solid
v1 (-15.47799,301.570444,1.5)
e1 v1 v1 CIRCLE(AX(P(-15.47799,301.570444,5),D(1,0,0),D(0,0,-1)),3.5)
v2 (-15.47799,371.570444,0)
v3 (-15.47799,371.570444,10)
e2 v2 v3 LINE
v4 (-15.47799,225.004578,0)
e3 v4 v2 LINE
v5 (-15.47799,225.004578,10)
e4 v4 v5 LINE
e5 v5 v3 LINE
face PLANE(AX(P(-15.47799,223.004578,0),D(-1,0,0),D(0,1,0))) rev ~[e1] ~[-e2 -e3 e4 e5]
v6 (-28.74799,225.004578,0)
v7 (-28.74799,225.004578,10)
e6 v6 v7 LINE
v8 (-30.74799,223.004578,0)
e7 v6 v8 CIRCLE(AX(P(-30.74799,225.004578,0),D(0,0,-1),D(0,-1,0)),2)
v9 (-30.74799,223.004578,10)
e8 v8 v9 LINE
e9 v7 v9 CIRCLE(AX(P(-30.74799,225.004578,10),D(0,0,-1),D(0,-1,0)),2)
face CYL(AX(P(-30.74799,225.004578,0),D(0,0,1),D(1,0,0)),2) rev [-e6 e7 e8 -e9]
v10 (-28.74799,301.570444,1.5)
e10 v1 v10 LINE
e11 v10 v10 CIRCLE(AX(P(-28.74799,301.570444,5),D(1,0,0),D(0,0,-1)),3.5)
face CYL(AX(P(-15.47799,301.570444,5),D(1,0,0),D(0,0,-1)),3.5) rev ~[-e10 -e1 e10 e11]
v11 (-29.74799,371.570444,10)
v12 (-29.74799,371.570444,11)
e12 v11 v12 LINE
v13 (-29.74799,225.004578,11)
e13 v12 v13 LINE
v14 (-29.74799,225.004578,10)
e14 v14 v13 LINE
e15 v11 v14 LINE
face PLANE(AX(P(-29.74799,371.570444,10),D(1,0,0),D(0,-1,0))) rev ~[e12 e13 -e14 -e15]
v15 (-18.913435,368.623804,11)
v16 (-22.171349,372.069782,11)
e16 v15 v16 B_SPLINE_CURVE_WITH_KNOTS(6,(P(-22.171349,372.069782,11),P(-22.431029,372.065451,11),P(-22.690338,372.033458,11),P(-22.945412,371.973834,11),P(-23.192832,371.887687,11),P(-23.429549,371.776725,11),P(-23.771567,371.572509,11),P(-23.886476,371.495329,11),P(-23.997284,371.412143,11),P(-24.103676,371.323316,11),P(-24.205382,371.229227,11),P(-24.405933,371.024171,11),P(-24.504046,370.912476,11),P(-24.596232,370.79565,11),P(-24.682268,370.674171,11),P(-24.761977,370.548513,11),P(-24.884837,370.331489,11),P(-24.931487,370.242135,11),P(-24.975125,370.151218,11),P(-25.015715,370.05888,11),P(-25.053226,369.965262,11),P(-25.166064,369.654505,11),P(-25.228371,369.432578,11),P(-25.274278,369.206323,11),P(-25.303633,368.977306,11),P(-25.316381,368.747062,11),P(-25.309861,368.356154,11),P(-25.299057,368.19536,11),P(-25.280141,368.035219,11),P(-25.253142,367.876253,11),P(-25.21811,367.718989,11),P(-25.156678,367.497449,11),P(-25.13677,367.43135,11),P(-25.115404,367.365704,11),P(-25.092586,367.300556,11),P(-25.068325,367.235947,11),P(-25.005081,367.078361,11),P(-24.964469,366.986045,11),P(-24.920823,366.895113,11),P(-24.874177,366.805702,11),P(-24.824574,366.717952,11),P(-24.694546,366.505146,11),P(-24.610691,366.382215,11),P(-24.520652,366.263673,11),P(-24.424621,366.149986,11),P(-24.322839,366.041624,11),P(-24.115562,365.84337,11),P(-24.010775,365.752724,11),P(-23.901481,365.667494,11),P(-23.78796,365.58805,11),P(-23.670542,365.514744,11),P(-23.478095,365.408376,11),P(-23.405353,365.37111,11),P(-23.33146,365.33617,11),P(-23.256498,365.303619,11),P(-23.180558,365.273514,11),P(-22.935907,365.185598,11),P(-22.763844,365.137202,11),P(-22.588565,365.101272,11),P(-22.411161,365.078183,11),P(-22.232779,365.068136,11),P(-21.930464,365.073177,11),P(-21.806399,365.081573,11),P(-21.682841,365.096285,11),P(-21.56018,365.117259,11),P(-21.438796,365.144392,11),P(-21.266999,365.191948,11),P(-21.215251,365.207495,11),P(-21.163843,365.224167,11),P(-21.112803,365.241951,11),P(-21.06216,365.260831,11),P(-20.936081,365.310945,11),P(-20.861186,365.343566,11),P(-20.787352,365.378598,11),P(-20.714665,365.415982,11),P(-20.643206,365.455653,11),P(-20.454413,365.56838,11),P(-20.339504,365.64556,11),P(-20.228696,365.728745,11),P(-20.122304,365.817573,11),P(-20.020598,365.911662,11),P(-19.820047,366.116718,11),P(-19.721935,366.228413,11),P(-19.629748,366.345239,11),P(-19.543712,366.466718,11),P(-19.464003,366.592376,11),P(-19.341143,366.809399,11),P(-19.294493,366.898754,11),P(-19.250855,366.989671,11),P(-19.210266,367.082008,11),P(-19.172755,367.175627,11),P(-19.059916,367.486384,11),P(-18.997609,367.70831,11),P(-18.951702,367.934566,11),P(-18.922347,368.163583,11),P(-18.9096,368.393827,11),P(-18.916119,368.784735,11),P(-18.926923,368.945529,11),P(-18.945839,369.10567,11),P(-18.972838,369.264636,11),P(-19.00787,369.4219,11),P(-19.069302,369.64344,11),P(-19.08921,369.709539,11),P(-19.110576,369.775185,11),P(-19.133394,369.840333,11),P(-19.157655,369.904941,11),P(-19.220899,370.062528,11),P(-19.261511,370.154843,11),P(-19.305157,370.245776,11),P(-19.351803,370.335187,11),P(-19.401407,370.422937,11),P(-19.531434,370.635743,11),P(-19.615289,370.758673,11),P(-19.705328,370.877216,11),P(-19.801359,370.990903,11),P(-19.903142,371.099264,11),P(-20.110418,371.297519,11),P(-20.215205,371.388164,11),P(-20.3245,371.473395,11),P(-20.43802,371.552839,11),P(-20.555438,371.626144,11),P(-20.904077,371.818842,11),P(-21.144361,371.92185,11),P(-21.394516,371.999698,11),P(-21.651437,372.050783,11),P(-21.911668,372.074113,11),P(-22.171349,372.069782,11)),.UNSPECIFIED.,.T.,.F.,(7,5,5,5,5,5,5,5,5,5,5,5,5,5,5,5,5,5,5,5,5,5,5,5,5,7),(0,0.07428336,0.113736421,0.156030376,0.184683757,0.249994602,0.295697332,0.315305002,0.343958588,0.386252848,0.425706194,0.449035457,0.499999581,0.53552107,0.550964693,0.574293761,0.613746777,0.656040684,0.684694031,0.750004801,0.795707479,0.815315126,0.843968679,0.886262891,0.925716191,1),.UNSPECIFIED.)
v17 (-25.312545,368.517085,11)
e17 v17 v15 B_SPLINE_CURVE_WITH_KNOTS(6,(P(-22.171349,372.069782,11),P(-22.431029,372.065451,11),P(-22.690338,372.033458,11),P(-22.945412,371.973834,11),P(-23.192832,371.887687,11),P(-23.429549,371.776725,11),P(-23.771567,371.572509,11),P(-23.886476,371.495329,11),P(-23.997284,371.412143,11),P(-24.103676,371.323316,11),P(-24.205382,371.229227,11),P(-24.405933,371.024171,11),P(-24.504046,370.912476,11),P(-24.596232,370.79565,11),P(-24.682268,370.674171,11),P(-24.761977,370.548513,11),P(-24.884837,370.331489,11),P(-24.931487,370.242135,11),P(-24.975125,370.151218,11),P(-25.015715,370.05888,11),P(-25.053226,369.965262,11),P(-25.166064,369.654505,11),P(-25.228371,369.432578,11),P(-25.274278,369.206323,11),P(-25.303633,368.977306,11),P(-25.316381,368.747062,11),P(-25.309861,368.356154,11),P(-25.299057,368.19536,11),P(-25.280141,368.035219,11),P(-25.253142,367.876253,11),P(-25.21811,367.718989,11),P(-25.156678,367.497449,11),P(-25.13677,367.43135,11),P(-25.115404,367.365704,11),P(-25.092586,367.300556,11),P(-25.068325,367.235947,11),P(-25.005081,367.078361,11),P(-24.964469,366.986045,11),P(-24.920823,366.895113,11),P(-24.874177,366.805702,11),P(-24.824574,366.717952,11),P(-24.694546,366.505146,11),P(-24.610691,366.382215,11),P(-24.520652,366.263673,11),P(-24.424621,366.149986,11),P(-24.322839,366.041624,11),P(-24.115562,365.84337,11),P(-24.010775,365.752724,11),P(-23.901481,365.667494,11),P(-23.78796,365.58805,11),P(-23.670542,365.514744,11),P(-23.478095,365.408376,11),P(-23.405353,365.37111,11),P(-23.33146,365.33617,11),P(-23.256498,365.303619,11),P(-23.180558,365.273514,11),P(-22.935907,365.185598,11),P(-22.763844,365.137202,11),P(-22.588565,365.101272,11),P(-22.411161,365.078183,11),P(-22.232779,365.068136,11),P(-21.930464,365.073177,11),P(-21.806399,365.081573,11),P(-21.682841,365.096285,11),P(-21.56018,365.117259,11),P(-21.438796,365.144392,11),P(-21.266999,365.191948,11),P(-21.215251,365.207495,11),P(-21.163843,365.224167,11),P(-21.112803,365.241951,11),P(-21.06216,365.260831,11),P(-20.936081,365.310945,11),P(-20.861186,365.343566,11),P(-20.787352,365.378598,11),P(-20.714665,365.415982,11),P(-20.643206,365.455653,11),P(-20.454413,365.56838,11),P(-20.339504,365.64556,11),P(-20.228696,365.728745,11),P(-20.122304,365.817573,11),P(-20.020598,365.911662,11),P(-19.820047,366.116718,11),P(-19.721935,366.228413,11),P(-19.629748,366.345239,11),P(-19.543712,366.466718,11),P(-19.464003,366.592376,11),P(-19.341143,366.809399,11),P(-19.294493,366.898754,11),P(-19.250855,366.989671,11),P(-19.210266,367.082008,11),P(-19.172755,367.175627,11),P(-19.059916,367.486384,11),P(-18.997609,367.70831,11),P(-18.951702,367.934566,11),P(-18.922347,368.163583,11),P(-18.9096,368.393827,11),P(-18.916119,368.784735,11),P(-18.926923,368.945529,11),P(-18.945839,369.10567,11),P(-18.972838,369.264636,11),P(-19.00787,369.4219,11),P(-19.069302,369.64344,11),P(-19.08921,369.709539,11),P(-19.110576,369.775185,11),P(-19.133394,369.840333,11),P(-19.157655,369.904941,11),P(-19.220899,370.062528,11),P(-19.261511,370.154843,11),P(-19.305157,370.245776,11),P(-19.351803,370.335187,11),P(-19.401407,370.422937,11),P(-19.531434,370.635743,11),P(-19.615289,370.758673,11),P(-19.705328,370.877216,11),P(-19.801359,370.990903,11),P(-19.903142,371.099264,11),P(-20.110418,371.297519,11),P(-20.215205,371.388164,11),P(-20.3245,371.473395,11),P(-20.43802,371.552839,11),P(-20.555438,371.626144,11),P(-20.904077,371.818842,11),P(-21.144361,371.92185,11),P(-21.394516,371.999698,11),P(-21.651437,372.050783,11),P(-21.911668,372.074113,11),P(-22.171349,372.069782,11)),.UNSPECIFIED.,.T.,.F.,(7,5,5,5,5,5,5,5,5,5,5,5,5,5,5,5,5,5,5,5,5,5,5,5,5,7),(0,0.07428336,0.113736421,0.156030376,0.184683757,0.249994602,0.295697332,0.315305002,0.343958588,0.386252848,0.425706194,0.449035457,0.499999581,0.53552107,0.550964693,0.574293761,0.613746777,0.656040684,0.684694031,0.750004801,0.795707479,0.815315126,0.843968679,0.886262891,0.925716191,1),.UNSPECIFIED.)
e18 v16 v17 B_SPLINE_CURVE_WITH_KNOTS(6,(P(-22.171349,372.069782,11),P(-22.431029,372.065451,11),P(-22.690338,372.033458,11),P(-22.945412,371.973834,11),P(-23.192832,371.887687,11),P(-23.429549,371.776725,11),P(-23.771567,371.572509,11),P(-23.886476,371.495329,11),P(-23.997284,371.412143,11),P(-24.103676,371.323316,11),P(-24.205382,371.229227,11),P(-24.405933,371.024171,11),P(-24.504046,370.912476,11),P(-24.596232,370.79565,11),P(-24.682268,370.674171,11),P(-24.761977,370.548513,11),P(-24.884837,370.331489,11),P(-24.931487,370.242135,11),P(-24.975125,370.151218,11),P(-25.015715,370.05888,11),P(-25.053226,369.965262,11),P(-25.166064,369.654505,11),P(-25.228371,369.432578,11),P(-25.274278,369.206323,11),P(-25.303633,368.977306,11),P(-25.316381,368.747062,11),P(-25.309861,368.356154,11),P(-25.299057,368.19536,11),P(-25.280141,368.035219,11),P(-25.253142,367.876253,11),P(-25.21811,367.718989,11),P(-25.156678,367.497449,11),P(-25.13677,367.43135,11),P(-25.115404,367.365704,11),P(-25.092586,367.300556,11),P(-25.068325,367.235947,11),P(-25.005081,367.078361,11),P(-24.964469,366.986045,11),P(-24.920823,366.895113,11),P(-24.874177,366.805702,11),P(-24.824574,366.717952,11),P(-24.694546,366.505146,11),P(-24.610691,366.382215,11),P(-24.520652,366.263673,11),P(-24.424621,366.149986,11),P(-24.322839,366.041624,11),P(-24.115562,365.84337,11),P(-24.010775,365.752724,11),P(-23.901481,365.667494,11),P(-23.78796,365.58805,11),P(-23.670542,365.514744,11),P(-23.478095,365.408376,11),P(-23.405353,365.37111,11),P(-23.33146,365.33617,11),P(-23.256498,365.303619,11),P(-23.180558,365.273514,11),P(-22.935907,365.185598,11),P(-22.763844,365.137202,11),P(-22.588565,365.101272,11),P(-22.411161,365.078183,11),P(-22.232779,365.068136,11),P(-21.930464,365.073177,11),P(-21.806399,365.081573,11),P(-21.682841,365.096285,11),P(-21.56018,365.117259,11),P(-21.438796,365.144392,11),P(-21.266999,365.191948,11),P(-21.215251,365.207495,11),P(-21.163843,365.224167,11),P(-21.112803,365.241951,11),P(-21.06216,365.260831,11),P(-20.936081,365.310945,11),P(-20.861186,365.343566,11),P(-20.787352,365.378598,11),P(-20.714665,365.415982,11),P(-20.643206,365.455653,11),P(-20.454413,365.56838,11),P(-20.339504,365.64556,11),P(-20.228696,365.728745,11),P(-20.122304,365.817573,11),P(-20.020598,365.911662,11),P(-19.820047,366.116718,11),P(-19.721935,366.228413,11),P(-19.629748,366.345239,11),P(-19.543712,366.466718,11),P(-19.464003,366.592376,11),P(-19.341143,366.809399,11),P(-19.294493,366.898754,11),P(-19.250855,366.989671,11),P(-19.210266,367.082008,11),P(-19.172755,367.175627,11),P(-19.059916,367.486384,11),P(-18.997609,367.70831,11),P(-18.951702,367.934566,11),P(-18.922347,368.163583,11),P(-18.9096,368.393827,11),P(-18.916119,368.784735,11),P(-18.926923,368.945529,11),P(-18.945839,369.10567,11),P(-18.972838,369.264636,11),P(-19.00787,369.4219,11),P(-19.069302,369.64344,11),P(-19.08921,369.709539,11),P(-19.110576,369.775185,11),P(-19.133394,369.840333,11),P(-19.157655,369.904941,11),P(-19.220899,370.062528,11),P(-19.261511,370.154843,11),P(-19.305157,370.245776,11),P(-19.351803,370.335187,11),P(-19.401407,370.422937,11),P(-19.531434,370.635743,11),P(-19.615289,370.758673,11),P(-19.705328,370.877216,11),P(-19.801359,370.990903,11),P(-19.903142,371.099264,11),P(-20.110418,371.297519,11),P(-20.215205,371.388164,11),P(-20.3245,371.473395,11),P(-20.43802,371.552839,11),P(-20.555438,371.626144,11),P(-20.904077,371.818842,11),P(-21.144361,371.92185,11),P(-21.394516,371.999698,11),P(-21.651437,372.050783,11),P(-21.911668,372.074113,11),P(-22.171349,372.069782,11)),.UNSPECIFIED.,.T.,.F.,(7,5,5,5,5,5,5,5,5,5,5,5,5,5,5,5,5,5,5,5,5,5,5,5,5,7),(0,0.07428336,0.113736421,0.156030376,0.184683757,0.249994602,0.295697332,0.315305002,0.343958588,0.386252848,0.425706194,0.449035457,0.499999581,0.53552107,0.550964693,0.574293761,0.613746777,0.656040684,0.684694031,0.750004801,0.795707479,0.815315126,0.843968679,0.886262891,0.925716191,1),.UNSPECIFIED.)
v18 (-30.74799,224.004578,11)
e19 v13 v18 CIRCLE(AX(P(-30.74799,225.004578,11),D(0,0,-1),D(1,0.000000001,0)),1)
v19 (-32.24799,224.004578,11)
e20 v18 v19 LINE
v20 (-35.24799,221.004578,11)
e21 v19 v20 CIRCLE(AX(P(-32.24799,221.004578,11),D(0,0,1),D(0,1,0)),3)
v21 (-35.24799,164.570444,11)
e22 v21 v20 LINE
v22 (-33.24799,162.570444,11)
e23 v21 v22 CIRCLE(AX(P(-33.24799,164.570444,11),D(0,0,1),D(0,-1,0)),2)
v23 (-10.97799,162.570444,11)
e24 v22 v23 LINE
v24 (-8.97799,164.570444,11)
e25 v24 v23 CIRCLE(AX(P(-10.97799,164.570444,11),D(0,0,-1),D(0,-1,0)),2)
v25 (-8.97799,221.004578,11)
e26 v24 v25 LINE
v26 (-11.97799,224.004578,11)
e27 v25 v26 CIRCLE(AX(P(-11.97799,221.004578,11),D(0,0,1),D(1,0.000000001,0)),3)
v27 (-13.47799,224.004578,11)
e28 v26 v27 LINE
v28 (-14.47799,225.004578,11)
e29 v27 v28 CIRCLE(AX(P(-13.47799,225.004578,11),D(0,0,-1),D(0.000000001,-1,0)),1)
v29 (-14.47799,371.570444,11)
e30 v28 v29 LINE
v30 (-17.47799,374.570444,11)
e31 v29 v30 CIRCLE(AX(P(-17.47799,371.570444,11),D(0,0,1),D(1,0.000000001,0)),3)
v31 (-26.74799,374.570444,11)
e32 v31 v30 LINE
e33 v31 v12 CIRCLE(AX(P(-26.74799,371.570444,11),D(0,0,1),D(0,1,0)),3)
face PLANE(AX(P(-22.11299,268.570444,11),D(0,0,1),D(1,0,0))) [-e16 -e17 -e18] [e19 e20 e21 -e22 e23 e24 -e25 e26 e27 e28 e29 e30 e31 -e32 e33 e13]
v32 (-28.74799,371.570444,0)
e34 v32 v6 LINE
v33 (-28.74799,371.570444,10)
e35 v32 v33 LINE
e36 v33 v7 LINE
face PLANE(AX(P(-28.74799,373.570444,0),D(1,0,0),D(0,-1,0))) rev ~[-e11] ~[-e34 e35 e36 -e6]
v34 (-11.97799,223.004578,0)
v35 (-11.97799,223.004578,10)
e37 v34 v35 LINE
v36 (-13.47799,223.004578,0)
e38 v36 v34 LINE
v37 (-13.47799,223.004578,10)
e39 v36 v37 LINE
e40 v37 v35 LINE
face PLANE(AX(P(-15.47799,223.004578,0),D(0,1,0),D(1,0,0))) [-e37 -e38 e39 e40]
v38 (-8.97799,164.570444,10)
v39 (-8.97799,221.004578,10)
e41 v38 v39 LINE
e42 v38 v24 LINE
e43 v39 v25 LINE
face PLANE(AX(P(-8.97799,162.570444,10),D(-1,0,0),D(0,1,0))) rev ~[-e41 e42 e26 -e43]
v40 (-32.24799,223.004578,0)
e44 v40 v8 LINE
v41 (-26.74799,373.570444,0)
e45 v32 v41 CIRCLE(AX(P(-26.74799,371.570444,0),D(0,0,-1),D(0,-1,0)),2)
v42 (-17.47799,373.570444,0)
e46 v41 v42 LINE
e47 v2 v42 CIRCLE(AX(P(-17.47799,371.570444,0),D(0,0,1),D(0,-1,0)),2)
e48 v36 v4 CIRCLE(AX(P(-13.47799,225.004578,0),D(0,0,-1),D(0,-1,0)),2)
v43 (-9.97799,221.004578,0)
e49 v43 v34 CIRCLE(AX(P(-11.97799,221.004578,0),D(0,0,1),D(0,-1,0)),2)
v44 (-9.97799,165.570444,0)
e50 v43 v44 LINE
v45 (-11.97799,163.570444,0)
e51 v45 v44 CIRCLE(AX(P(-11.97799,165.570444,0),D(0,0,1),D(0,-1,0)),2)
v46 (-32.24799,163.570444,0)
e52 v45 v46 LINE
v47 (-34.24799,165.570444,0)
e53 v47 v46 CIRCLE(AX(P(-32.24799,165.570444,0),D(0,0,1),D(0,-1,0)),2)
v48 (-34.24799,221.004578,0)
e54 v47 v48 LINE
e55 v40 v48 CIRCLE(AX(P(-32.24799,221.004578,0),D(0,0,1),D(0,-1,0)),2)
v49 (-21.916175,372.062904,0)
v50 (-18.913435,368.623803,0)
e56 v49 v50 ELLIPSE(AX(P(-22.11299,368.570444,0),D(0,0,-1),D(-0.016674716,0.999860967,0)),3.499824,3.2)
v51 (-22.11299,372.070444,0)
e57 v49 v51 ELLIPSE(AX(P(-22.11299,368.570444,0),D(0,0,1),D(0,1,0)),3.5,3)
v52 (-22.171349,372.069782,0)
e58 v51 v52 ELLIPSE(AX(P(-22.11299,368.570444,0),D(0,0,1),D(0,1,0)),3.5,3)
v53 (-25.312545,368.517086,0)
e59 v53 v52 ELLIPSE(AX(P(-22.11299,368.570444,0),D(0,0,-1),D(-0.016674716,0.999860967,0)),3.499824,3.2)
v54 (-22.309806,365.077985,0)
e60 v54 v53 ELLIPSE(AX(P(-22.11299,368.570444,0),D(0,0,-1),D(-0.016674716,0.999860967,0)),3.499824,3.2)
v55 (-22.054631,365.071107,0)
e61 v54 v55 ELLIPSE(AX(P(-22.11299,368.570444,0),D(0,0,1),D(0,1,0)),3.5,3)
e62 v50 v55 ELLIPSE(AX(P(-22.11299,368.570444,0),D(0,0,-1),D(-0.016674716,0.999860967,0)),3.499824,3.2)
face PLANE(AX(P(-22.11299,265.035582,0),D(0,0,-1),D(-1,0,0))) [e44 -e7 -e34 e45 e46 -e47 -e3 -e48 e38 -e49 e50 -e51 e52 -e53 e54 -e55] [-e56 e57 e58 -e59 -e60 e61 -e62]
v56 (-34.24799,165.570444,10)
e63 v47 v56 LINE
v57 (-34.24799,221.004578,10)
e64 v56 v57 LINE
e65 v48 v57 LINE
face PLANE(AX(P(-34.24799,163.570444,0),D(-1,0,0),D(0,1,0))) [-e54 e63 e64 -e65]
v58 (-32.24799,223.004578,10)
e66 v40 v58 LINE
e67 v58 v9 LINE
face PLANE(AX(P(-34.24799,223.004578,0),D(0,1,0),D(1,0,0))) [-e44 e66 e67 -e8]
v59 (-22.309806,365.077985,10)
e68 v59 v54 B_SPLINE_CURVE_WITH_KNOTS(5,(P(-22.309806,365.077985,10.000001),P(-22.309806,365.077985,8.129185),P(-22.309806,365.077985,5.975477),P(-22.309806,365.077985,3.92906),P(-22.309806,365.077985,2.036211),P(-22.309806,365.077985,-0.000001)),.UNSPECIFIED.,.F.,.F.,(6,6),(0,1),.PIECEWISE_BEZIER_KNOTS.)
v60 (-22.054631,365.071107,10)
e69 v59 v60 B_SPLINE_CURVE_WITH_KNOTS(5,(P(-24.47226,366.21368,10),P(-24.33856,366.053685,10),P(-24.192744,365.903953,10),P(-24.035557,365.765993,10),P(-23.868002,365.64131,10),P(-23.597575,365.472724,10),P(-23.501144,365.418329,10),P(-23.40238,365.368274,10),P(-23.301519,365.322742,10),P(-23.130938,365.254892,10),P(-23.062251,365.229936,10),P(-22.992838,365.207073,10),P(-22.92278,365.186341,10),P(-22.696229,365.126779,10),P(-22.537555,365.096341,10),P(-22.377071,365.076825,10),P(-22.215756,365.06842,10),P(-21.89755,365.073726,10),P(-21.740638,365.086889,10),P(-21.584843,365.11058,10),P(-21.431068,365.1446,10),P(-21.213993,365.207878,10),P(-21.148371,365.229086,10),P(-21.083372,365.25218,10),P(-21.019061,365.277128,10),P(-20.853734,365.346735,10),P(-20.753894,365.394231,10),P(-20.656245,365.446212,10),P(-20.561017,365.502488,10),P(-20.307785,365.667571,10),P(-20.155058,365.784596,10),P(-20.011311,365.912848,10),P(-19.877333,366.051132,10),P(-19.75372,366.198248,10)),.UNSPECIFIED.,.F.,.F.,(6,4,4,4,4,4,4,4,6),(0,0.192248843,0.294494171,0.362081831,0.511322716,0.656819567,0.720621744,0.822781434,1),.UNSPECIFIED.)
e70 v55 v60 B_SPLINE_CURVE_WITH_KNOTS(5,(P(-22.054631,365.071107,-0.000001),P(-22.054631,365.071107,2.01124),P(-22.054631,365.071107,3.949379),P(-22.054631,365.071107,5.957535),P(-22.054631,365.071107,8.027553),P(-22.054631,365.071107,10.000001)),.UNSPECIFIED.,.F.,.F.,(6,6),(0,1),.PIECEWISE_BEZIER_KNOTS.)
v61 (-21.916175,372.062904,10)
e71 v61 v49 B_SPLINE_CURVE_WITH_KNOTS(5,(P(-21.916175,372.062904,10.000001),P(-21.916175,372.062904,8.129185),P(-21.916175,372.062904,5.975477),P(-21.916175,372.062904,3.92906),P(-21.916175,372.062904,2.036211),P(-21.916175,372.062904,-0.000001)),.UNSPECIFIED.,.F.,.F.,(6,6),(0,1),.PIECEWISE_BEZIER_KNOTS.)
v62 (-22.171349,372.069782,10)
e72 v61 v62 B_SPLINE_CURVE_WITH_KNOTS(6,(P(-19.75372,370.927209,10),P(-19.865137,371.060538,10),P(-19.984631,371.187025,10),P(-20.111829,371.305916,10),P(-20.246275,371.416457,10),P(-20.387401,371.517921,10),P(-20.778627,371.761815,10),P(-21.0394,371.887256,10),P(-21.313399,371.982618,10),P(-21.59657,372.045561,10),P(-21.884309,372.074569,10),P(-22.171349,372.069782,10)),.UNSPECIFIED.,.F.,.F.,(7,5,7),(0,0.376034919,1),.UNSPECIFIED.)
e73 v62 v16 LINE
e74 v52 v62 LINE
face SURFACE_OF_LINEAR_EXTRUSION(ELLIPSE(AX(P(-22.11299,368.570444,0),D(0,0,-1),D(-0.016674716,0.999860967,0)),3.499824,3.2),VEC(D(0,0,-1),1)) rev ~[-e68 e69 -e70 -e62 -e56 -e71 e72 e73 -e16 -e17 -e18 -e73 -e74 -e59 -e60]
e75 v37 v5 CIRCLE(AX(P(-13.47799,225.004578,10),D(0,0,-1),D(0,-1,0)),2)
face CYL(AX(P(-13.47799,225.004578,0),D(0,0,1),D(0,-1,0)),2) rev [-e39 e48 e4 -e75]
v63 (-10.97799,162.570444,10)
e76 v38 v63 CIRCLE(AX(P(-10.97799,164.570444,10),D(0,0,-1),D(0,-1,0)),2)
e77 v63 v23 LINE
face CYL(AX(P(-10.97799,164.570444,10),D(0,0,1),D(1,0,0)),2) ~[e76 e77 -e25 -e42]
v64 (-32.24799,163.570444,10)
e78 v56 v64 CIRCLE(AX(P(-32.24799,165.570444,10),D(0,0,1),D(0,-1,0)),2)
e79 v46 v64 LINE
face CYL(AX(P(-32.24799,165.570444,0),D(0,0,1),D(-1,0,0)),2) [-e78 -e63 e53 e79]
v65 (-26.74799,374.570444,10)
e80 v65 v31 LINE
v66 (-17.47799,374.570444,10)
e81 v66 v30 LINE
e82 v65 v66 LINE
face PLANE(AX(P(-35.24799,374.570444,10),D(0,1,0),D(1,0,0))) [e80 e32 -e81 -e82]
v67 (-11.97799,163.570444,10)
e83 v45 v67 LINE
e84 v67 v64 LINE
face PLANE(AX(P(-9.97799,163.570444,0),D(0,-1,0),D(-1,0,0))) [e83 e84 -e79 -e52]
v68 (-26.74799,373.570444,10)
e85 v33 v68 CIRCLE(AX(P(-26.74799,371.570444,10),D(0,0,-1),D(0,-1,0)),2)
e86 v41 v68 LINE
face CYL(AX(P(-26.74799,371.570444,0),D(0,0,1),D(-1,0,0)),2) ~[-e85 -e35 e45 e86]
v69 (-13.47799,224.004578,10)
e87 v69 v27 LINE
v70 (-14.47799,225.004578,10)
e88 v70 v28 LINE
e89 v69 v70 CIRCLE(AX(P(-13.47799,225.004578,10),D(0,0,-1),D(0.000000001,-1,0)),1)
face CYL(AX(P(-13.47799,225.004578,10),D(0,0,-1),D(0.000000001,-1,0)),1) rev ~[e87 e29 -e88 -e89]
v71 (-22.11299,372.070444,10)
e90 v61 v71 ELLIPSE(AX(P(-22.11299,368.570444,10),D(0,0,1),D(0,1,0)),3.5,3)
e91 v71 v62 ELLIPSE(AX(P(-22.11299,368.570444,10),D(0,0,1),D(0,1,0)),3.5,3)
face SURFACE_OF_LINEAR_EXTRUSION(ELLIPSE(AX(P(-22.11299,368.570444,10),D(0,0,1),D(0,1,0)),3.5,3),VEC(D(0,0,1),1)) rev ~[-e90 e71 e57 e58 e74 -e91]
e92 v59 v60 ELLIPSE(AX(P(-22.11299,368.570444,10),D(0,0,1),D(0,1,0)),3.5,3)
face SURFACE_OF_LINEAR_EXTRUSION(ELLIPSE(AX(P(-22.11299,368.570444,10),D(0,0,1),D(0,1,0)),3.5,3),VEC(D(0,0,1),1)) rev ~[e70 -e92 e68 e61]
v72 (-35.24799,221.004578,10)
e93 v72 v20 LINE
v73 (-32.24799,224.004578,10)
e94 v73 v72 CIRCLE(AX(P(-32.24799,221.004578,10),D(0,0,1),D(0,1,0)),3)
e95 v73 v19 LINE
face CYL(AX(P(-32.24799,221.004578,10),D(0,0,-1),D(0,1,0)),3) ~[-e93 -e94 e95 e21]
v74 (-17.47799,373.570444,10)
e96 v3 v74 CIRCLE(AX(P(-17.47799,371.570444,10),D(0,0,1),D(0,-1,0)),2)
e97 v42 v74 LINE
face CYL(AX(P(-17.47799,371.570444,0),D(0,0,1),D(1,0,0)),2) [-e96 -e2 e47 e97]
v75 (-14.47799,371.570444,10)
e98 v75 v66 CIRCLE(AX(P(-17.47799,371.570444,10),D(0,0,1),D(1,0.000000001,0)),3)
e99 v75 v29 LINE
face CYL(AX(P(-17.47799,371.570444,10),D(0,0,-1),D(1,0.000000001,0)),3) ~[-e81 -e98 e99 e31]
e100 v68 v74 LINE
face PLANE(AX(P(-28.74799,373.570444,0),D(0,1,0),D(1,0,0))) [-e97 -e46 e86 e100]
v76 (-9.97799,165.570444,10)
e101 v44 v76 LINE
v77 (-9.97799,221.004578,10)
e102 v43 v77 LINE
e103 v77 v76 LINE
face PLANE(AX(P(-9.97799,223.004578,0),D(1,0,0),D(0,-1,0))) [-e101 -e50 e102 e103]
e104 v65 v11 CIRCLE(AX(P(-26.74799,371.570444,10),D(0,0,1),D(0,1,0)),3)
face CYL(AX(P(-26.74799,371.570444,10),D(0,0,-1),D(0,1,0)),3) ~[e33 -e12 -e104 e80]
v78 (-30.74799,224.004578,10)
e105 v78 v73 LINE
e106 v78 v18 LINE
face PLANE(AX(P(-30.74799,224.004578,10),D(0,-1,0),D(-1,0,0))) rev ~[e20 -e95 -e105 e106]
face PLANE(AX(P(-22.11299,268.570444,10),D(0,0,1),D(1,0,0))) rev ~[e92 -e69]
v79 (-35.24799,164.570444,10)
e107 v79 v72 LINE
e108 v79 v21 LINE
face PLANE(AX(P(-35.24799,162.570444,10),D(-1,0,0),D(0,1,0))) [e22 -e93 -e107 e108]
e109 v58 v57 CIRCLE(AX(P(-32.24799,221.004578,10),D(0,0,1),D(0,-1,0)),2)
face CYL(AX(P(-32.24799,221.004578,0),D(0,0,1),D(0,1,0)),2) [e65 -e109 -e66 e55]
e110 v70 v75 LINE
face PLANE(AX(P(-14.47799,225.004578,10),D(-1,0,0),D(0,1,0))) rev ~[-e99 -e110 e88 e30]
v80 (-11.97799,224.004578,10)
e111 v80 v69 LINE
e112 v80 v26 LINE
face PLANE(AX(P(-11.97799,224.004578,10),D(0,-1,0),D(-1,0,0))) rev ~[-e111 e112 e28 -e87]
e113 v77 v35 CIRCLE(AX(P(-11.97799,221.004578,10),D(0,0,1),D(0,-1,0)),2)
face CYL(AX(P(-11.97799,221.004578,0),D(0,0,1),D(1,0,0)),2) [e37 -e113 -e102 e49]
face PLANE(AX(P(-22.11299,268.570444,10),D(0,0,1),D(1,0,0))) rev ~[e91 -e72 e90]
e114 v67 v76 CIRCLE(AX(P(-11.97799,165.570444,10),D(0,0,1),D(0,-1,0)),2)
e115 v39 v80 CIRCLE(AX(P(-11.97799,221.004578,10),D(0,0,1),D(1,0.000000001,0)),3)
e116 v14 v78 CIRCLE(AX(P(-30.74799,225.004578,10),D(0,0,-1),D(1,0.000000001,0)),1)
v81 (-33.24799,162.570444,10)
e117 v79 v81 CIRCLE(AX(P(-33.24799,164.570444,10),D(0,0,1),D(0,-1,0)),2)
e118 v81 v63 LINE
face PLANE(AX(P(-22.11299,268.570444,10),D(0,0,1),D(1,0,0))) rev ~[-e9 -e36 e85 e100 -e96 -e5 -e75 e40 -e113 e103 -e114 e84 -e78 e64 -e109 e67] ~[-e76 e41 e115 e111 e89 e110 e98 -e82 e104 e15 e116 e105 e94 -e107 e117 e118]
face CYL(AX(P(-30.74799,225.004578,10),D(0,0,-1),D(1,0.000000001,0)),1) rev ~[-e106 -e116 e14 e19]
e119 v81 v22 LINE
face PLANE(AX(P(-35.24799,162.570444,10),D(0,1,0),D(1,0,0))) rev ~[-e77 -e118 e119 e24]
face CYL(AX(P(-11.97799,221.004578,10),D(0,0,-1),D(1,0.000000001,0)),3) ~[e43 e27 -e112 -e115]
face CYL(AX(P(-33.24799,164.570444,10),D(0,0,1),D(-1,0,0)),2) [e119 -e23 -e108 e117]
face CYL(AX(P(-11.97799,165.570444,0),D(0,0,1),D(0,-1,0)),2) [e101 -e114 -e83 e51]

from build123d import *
from build123d.topology import SkipClean

# Parameters (mm, degrees)
BOSS_EXTRU_1_DEPTH       = 10
ESQUISSE2_RX             = 3.5
ESQUISSE2_RY             = 3
ENL_V_MAT_EXTRU_1_DEPTH  = 10
ESQUISSE3_R              = 3.2
ENL_V_MAT_EXTRU_2_DEPTH  = 10
ESQUISSE4_R              = 3.5
ENL_V_MAT_EXTRU_3_DEPTH  = 30
ESQUISSE5_W              = 26.27
ESQUISSE5_H              = 212
BOSS_EXTRU_2_DEPTH       = 1
CONG_1_R                 = 2
ENL_V_MAT_EXTRU_4_DEPTH  = 1
CONG_4_R                 = 2
ENL_V_START              = -15
ESQUISSE10_R             = 3.2
ENL_V_MAT_EXTRU_9_DEPTH  = 15
ESQUISSE11_RX            = 3.499824303
ESQUISSE11_RY            = 3.2
ENL_V_MAT_EXTRU_10_DEPTH = 15


with BuildPart() as part:
    # Esquisse1 → Boss.-Extru.1 (new body)
    with BuildSketch(Plane.XY):
        Polygon((-28.747990112, 301.570444422), (-28.747990112, 373.570444422), (-15.477990112, 373.570444422), (-15.477990112, 301.570444422), (-15.477990112, 223.567147766), (-15.477990112, 223.004578109), (-9.977990112, 223.004578109), (-9.977990112, 163.570444422), (-34.247990112, 163.570444422), (-34.247990112, 223.004578109), (-28.747990112, 223.004578109), align=None)
    extrude(amount=BOSS_EXTRU_1_DEPTH)

    # Esquisse2 → Enlèv. mat.-Extru.1 (cut)
    with BuildSketch(Plane.XY.offset(10)):
        with Locations(Location((-22.112990112, 368.570444422), (0, 0, 90))):
            Ellipse(ESQUISSE2_RX, ESQUISSE2_RY)
    extrude(amount=-ENL_V_MAT_EXTRU_1_DEPTH, mode=Mode.SUBTRACT)

    # Esquisse3 → Enlèv. mat.-Extru.2 (cut)
    with BuildSketch(Plane.XY.offset(10)):
        with Locations((-22.112990112, 368.570444422)):
            Circle(ESQUISSE3_R)
    extrude(amount=-ENL_V_MAT_EXTRU_2_DEPTH, mode=Mode.SUBTRACT)

    # Esquisse4 → Enlèv. mat.-Extru.3 (cut)
    with BuildSketch(Plane(origin=(-15.477990112, 0, 0), x_dir=(0, 0, -1), z_dir=(1, 0, 0))):
        with Locations((-5, 301.570444422)):
            Circle(ESQUISSE4_R)
    extrude(amount=-ENL_V_MAT_EXTRU_3_DEPTH, mode=Mode.SUBTRACT)

    # Esquisse5 → Boss.-Extru.2 (add)
    with BuildSketch(Plane.XY.offset(10)):
        with Locations((-22.112990112, 268.570444422)):
            Rectangle(ESQUISSE5_W, ESQUISSE5_H)
    extrude(amount=BOSS_EXTRU_2_DEPTH)

    # Congé1
    cong_1_edges = [part.edges().sort_by_distance(p)[0] for p in [
        (-15.477990112, 223.004578109, 5),
        (-15.477990112, 373.570444422, 5),
        (-28.747990112, 373.570444422, 5),
        (-28.747990112, 223.004578109, 5),
        (-34.247990112, 223.004578109, 5),
        (-34.247990112, 163.570444422, 5),
        (-9.977990112, 163.570444422, 5),
        (-9.977990112, 223.004578109, 5),
    ]]
    fillet(cong_1_edges, radius=CONG_1_R)

    # Esquisse6 → Enlèv. mat.-Extru.4 (cut)
    with BuildSketch(Plane(origin=(0, 0, 10), x_dir=(-1, 0, 0), z_dir=(0, 0, -1))):
        with BuildLine():
            ThreePointArc((8.977990112, 221.004578109), (9.856669769, 223.125898452), (11.977990112, 224.004578109))
            Line((11.977990112, 224.004578109), (13.477990112, 224.004578109))
            ThreePointArc((13.477990112, 224.004578109), (14.185096893, 224.297471327), (14.477990112, 225.004578109))
            Line((14.477990112, 225.004578109), (14.477990112, 371.570444422))
            ThreePointArc((14.477990112, 371.570444422), (15.356669769, 373.691764765), (17.477990112, 374.570444422))
            Line((17.477990112, 374.570444422), (17.477990112, 374.984122624))
            Line((17.477990112, 374.984122624), (8.965587761, 374.984122624))
            Line((8.965587761, 374.984122624), (8.965587761, 221.004578109))
            Line((8.965587761, 221.004578109), (8.977990112, 221.004578109))
        make_face()
        with BuildLine():
            Line((30.747990112, 224.004578109), (32.247990112, 224.004578109))
            ThreePointArc((32.247990112, 224.004578109), (34.369310456, 223.125898452), (35.247990112, 221.004578109))
            Line((35.247990112, 221.004578109), (36.747990112, 374.57051247))
            Line((36.747990112, 374.57051247), (26.747990112, 374.570444422))
            ThreePointArc((26.747990112, 374.570444422), (28.869310456, 373.691764765), (29.747990112, 371.570444422))
            Line((29.747990112, 371.570444422), (29.747990112, 225.004578109))
            ThreePointArc((29.747990112, 225.004578109), (30.040883331, 224.297471327), (30.747990112, 224.004578109))
        make_face()
    extrude(amount=-ENL_V_MAT_EXTRU_4_DEPTH, mode=Mode.SUBTRACT)

    # Congé4
    cong_4_edges = [part.edges().sort_by_distance(p)[0] for p in [
        (-35.247990112, 162.570444422, 10.5),
        (-8.977990112, 162.570444422, 10.5),
    ]]
    fillet(cong_4_edges, radius=CONG_4_R)

    # Esquisse10 → Enlèv. mat.-Extru.9 (cut)
    with SkipClean():  # the faces are left unmerged after this step: merging them gives an invalid solid
        with BuildSketch(Plane(origin=(0, 0, 0), x_dir=(-1, 0, 0), z_dir=(0, 0, -1)).offset(ENL_V_START)):
            with Locations(Location((22.112990112, 368.570444422, 0), (0, 0, 222.50046931))):
                Circle(ESQUISSE10_R)
        extrude(amount=ENL_V_MAT_EXTRU_9_DEPTH, mode=Mode.SUBTRACT)

    # Esquisse11 → Enlèv. mat.-Extru.10 (cut)
    with SkipClean():  # the faces are left unmerged after this step: merging them gives an invalid solid
        with BuildSketch(Plane(origin=(0, 0, 0), x_dir=(-1, 0, 0), z_dir=(0, 0, -1))):
            with Locations(Location((22.112990112, 368.570444422), (0, 0, 89.044564844))):
                Ellipse(ESQUISSE11_RX, ESQUISSE11_RY)
        extrude(amount=-ENL_V_MAT_EXTRU_10_DEPTH, mode=Mode.SUBTRACT)


solid = part.part
